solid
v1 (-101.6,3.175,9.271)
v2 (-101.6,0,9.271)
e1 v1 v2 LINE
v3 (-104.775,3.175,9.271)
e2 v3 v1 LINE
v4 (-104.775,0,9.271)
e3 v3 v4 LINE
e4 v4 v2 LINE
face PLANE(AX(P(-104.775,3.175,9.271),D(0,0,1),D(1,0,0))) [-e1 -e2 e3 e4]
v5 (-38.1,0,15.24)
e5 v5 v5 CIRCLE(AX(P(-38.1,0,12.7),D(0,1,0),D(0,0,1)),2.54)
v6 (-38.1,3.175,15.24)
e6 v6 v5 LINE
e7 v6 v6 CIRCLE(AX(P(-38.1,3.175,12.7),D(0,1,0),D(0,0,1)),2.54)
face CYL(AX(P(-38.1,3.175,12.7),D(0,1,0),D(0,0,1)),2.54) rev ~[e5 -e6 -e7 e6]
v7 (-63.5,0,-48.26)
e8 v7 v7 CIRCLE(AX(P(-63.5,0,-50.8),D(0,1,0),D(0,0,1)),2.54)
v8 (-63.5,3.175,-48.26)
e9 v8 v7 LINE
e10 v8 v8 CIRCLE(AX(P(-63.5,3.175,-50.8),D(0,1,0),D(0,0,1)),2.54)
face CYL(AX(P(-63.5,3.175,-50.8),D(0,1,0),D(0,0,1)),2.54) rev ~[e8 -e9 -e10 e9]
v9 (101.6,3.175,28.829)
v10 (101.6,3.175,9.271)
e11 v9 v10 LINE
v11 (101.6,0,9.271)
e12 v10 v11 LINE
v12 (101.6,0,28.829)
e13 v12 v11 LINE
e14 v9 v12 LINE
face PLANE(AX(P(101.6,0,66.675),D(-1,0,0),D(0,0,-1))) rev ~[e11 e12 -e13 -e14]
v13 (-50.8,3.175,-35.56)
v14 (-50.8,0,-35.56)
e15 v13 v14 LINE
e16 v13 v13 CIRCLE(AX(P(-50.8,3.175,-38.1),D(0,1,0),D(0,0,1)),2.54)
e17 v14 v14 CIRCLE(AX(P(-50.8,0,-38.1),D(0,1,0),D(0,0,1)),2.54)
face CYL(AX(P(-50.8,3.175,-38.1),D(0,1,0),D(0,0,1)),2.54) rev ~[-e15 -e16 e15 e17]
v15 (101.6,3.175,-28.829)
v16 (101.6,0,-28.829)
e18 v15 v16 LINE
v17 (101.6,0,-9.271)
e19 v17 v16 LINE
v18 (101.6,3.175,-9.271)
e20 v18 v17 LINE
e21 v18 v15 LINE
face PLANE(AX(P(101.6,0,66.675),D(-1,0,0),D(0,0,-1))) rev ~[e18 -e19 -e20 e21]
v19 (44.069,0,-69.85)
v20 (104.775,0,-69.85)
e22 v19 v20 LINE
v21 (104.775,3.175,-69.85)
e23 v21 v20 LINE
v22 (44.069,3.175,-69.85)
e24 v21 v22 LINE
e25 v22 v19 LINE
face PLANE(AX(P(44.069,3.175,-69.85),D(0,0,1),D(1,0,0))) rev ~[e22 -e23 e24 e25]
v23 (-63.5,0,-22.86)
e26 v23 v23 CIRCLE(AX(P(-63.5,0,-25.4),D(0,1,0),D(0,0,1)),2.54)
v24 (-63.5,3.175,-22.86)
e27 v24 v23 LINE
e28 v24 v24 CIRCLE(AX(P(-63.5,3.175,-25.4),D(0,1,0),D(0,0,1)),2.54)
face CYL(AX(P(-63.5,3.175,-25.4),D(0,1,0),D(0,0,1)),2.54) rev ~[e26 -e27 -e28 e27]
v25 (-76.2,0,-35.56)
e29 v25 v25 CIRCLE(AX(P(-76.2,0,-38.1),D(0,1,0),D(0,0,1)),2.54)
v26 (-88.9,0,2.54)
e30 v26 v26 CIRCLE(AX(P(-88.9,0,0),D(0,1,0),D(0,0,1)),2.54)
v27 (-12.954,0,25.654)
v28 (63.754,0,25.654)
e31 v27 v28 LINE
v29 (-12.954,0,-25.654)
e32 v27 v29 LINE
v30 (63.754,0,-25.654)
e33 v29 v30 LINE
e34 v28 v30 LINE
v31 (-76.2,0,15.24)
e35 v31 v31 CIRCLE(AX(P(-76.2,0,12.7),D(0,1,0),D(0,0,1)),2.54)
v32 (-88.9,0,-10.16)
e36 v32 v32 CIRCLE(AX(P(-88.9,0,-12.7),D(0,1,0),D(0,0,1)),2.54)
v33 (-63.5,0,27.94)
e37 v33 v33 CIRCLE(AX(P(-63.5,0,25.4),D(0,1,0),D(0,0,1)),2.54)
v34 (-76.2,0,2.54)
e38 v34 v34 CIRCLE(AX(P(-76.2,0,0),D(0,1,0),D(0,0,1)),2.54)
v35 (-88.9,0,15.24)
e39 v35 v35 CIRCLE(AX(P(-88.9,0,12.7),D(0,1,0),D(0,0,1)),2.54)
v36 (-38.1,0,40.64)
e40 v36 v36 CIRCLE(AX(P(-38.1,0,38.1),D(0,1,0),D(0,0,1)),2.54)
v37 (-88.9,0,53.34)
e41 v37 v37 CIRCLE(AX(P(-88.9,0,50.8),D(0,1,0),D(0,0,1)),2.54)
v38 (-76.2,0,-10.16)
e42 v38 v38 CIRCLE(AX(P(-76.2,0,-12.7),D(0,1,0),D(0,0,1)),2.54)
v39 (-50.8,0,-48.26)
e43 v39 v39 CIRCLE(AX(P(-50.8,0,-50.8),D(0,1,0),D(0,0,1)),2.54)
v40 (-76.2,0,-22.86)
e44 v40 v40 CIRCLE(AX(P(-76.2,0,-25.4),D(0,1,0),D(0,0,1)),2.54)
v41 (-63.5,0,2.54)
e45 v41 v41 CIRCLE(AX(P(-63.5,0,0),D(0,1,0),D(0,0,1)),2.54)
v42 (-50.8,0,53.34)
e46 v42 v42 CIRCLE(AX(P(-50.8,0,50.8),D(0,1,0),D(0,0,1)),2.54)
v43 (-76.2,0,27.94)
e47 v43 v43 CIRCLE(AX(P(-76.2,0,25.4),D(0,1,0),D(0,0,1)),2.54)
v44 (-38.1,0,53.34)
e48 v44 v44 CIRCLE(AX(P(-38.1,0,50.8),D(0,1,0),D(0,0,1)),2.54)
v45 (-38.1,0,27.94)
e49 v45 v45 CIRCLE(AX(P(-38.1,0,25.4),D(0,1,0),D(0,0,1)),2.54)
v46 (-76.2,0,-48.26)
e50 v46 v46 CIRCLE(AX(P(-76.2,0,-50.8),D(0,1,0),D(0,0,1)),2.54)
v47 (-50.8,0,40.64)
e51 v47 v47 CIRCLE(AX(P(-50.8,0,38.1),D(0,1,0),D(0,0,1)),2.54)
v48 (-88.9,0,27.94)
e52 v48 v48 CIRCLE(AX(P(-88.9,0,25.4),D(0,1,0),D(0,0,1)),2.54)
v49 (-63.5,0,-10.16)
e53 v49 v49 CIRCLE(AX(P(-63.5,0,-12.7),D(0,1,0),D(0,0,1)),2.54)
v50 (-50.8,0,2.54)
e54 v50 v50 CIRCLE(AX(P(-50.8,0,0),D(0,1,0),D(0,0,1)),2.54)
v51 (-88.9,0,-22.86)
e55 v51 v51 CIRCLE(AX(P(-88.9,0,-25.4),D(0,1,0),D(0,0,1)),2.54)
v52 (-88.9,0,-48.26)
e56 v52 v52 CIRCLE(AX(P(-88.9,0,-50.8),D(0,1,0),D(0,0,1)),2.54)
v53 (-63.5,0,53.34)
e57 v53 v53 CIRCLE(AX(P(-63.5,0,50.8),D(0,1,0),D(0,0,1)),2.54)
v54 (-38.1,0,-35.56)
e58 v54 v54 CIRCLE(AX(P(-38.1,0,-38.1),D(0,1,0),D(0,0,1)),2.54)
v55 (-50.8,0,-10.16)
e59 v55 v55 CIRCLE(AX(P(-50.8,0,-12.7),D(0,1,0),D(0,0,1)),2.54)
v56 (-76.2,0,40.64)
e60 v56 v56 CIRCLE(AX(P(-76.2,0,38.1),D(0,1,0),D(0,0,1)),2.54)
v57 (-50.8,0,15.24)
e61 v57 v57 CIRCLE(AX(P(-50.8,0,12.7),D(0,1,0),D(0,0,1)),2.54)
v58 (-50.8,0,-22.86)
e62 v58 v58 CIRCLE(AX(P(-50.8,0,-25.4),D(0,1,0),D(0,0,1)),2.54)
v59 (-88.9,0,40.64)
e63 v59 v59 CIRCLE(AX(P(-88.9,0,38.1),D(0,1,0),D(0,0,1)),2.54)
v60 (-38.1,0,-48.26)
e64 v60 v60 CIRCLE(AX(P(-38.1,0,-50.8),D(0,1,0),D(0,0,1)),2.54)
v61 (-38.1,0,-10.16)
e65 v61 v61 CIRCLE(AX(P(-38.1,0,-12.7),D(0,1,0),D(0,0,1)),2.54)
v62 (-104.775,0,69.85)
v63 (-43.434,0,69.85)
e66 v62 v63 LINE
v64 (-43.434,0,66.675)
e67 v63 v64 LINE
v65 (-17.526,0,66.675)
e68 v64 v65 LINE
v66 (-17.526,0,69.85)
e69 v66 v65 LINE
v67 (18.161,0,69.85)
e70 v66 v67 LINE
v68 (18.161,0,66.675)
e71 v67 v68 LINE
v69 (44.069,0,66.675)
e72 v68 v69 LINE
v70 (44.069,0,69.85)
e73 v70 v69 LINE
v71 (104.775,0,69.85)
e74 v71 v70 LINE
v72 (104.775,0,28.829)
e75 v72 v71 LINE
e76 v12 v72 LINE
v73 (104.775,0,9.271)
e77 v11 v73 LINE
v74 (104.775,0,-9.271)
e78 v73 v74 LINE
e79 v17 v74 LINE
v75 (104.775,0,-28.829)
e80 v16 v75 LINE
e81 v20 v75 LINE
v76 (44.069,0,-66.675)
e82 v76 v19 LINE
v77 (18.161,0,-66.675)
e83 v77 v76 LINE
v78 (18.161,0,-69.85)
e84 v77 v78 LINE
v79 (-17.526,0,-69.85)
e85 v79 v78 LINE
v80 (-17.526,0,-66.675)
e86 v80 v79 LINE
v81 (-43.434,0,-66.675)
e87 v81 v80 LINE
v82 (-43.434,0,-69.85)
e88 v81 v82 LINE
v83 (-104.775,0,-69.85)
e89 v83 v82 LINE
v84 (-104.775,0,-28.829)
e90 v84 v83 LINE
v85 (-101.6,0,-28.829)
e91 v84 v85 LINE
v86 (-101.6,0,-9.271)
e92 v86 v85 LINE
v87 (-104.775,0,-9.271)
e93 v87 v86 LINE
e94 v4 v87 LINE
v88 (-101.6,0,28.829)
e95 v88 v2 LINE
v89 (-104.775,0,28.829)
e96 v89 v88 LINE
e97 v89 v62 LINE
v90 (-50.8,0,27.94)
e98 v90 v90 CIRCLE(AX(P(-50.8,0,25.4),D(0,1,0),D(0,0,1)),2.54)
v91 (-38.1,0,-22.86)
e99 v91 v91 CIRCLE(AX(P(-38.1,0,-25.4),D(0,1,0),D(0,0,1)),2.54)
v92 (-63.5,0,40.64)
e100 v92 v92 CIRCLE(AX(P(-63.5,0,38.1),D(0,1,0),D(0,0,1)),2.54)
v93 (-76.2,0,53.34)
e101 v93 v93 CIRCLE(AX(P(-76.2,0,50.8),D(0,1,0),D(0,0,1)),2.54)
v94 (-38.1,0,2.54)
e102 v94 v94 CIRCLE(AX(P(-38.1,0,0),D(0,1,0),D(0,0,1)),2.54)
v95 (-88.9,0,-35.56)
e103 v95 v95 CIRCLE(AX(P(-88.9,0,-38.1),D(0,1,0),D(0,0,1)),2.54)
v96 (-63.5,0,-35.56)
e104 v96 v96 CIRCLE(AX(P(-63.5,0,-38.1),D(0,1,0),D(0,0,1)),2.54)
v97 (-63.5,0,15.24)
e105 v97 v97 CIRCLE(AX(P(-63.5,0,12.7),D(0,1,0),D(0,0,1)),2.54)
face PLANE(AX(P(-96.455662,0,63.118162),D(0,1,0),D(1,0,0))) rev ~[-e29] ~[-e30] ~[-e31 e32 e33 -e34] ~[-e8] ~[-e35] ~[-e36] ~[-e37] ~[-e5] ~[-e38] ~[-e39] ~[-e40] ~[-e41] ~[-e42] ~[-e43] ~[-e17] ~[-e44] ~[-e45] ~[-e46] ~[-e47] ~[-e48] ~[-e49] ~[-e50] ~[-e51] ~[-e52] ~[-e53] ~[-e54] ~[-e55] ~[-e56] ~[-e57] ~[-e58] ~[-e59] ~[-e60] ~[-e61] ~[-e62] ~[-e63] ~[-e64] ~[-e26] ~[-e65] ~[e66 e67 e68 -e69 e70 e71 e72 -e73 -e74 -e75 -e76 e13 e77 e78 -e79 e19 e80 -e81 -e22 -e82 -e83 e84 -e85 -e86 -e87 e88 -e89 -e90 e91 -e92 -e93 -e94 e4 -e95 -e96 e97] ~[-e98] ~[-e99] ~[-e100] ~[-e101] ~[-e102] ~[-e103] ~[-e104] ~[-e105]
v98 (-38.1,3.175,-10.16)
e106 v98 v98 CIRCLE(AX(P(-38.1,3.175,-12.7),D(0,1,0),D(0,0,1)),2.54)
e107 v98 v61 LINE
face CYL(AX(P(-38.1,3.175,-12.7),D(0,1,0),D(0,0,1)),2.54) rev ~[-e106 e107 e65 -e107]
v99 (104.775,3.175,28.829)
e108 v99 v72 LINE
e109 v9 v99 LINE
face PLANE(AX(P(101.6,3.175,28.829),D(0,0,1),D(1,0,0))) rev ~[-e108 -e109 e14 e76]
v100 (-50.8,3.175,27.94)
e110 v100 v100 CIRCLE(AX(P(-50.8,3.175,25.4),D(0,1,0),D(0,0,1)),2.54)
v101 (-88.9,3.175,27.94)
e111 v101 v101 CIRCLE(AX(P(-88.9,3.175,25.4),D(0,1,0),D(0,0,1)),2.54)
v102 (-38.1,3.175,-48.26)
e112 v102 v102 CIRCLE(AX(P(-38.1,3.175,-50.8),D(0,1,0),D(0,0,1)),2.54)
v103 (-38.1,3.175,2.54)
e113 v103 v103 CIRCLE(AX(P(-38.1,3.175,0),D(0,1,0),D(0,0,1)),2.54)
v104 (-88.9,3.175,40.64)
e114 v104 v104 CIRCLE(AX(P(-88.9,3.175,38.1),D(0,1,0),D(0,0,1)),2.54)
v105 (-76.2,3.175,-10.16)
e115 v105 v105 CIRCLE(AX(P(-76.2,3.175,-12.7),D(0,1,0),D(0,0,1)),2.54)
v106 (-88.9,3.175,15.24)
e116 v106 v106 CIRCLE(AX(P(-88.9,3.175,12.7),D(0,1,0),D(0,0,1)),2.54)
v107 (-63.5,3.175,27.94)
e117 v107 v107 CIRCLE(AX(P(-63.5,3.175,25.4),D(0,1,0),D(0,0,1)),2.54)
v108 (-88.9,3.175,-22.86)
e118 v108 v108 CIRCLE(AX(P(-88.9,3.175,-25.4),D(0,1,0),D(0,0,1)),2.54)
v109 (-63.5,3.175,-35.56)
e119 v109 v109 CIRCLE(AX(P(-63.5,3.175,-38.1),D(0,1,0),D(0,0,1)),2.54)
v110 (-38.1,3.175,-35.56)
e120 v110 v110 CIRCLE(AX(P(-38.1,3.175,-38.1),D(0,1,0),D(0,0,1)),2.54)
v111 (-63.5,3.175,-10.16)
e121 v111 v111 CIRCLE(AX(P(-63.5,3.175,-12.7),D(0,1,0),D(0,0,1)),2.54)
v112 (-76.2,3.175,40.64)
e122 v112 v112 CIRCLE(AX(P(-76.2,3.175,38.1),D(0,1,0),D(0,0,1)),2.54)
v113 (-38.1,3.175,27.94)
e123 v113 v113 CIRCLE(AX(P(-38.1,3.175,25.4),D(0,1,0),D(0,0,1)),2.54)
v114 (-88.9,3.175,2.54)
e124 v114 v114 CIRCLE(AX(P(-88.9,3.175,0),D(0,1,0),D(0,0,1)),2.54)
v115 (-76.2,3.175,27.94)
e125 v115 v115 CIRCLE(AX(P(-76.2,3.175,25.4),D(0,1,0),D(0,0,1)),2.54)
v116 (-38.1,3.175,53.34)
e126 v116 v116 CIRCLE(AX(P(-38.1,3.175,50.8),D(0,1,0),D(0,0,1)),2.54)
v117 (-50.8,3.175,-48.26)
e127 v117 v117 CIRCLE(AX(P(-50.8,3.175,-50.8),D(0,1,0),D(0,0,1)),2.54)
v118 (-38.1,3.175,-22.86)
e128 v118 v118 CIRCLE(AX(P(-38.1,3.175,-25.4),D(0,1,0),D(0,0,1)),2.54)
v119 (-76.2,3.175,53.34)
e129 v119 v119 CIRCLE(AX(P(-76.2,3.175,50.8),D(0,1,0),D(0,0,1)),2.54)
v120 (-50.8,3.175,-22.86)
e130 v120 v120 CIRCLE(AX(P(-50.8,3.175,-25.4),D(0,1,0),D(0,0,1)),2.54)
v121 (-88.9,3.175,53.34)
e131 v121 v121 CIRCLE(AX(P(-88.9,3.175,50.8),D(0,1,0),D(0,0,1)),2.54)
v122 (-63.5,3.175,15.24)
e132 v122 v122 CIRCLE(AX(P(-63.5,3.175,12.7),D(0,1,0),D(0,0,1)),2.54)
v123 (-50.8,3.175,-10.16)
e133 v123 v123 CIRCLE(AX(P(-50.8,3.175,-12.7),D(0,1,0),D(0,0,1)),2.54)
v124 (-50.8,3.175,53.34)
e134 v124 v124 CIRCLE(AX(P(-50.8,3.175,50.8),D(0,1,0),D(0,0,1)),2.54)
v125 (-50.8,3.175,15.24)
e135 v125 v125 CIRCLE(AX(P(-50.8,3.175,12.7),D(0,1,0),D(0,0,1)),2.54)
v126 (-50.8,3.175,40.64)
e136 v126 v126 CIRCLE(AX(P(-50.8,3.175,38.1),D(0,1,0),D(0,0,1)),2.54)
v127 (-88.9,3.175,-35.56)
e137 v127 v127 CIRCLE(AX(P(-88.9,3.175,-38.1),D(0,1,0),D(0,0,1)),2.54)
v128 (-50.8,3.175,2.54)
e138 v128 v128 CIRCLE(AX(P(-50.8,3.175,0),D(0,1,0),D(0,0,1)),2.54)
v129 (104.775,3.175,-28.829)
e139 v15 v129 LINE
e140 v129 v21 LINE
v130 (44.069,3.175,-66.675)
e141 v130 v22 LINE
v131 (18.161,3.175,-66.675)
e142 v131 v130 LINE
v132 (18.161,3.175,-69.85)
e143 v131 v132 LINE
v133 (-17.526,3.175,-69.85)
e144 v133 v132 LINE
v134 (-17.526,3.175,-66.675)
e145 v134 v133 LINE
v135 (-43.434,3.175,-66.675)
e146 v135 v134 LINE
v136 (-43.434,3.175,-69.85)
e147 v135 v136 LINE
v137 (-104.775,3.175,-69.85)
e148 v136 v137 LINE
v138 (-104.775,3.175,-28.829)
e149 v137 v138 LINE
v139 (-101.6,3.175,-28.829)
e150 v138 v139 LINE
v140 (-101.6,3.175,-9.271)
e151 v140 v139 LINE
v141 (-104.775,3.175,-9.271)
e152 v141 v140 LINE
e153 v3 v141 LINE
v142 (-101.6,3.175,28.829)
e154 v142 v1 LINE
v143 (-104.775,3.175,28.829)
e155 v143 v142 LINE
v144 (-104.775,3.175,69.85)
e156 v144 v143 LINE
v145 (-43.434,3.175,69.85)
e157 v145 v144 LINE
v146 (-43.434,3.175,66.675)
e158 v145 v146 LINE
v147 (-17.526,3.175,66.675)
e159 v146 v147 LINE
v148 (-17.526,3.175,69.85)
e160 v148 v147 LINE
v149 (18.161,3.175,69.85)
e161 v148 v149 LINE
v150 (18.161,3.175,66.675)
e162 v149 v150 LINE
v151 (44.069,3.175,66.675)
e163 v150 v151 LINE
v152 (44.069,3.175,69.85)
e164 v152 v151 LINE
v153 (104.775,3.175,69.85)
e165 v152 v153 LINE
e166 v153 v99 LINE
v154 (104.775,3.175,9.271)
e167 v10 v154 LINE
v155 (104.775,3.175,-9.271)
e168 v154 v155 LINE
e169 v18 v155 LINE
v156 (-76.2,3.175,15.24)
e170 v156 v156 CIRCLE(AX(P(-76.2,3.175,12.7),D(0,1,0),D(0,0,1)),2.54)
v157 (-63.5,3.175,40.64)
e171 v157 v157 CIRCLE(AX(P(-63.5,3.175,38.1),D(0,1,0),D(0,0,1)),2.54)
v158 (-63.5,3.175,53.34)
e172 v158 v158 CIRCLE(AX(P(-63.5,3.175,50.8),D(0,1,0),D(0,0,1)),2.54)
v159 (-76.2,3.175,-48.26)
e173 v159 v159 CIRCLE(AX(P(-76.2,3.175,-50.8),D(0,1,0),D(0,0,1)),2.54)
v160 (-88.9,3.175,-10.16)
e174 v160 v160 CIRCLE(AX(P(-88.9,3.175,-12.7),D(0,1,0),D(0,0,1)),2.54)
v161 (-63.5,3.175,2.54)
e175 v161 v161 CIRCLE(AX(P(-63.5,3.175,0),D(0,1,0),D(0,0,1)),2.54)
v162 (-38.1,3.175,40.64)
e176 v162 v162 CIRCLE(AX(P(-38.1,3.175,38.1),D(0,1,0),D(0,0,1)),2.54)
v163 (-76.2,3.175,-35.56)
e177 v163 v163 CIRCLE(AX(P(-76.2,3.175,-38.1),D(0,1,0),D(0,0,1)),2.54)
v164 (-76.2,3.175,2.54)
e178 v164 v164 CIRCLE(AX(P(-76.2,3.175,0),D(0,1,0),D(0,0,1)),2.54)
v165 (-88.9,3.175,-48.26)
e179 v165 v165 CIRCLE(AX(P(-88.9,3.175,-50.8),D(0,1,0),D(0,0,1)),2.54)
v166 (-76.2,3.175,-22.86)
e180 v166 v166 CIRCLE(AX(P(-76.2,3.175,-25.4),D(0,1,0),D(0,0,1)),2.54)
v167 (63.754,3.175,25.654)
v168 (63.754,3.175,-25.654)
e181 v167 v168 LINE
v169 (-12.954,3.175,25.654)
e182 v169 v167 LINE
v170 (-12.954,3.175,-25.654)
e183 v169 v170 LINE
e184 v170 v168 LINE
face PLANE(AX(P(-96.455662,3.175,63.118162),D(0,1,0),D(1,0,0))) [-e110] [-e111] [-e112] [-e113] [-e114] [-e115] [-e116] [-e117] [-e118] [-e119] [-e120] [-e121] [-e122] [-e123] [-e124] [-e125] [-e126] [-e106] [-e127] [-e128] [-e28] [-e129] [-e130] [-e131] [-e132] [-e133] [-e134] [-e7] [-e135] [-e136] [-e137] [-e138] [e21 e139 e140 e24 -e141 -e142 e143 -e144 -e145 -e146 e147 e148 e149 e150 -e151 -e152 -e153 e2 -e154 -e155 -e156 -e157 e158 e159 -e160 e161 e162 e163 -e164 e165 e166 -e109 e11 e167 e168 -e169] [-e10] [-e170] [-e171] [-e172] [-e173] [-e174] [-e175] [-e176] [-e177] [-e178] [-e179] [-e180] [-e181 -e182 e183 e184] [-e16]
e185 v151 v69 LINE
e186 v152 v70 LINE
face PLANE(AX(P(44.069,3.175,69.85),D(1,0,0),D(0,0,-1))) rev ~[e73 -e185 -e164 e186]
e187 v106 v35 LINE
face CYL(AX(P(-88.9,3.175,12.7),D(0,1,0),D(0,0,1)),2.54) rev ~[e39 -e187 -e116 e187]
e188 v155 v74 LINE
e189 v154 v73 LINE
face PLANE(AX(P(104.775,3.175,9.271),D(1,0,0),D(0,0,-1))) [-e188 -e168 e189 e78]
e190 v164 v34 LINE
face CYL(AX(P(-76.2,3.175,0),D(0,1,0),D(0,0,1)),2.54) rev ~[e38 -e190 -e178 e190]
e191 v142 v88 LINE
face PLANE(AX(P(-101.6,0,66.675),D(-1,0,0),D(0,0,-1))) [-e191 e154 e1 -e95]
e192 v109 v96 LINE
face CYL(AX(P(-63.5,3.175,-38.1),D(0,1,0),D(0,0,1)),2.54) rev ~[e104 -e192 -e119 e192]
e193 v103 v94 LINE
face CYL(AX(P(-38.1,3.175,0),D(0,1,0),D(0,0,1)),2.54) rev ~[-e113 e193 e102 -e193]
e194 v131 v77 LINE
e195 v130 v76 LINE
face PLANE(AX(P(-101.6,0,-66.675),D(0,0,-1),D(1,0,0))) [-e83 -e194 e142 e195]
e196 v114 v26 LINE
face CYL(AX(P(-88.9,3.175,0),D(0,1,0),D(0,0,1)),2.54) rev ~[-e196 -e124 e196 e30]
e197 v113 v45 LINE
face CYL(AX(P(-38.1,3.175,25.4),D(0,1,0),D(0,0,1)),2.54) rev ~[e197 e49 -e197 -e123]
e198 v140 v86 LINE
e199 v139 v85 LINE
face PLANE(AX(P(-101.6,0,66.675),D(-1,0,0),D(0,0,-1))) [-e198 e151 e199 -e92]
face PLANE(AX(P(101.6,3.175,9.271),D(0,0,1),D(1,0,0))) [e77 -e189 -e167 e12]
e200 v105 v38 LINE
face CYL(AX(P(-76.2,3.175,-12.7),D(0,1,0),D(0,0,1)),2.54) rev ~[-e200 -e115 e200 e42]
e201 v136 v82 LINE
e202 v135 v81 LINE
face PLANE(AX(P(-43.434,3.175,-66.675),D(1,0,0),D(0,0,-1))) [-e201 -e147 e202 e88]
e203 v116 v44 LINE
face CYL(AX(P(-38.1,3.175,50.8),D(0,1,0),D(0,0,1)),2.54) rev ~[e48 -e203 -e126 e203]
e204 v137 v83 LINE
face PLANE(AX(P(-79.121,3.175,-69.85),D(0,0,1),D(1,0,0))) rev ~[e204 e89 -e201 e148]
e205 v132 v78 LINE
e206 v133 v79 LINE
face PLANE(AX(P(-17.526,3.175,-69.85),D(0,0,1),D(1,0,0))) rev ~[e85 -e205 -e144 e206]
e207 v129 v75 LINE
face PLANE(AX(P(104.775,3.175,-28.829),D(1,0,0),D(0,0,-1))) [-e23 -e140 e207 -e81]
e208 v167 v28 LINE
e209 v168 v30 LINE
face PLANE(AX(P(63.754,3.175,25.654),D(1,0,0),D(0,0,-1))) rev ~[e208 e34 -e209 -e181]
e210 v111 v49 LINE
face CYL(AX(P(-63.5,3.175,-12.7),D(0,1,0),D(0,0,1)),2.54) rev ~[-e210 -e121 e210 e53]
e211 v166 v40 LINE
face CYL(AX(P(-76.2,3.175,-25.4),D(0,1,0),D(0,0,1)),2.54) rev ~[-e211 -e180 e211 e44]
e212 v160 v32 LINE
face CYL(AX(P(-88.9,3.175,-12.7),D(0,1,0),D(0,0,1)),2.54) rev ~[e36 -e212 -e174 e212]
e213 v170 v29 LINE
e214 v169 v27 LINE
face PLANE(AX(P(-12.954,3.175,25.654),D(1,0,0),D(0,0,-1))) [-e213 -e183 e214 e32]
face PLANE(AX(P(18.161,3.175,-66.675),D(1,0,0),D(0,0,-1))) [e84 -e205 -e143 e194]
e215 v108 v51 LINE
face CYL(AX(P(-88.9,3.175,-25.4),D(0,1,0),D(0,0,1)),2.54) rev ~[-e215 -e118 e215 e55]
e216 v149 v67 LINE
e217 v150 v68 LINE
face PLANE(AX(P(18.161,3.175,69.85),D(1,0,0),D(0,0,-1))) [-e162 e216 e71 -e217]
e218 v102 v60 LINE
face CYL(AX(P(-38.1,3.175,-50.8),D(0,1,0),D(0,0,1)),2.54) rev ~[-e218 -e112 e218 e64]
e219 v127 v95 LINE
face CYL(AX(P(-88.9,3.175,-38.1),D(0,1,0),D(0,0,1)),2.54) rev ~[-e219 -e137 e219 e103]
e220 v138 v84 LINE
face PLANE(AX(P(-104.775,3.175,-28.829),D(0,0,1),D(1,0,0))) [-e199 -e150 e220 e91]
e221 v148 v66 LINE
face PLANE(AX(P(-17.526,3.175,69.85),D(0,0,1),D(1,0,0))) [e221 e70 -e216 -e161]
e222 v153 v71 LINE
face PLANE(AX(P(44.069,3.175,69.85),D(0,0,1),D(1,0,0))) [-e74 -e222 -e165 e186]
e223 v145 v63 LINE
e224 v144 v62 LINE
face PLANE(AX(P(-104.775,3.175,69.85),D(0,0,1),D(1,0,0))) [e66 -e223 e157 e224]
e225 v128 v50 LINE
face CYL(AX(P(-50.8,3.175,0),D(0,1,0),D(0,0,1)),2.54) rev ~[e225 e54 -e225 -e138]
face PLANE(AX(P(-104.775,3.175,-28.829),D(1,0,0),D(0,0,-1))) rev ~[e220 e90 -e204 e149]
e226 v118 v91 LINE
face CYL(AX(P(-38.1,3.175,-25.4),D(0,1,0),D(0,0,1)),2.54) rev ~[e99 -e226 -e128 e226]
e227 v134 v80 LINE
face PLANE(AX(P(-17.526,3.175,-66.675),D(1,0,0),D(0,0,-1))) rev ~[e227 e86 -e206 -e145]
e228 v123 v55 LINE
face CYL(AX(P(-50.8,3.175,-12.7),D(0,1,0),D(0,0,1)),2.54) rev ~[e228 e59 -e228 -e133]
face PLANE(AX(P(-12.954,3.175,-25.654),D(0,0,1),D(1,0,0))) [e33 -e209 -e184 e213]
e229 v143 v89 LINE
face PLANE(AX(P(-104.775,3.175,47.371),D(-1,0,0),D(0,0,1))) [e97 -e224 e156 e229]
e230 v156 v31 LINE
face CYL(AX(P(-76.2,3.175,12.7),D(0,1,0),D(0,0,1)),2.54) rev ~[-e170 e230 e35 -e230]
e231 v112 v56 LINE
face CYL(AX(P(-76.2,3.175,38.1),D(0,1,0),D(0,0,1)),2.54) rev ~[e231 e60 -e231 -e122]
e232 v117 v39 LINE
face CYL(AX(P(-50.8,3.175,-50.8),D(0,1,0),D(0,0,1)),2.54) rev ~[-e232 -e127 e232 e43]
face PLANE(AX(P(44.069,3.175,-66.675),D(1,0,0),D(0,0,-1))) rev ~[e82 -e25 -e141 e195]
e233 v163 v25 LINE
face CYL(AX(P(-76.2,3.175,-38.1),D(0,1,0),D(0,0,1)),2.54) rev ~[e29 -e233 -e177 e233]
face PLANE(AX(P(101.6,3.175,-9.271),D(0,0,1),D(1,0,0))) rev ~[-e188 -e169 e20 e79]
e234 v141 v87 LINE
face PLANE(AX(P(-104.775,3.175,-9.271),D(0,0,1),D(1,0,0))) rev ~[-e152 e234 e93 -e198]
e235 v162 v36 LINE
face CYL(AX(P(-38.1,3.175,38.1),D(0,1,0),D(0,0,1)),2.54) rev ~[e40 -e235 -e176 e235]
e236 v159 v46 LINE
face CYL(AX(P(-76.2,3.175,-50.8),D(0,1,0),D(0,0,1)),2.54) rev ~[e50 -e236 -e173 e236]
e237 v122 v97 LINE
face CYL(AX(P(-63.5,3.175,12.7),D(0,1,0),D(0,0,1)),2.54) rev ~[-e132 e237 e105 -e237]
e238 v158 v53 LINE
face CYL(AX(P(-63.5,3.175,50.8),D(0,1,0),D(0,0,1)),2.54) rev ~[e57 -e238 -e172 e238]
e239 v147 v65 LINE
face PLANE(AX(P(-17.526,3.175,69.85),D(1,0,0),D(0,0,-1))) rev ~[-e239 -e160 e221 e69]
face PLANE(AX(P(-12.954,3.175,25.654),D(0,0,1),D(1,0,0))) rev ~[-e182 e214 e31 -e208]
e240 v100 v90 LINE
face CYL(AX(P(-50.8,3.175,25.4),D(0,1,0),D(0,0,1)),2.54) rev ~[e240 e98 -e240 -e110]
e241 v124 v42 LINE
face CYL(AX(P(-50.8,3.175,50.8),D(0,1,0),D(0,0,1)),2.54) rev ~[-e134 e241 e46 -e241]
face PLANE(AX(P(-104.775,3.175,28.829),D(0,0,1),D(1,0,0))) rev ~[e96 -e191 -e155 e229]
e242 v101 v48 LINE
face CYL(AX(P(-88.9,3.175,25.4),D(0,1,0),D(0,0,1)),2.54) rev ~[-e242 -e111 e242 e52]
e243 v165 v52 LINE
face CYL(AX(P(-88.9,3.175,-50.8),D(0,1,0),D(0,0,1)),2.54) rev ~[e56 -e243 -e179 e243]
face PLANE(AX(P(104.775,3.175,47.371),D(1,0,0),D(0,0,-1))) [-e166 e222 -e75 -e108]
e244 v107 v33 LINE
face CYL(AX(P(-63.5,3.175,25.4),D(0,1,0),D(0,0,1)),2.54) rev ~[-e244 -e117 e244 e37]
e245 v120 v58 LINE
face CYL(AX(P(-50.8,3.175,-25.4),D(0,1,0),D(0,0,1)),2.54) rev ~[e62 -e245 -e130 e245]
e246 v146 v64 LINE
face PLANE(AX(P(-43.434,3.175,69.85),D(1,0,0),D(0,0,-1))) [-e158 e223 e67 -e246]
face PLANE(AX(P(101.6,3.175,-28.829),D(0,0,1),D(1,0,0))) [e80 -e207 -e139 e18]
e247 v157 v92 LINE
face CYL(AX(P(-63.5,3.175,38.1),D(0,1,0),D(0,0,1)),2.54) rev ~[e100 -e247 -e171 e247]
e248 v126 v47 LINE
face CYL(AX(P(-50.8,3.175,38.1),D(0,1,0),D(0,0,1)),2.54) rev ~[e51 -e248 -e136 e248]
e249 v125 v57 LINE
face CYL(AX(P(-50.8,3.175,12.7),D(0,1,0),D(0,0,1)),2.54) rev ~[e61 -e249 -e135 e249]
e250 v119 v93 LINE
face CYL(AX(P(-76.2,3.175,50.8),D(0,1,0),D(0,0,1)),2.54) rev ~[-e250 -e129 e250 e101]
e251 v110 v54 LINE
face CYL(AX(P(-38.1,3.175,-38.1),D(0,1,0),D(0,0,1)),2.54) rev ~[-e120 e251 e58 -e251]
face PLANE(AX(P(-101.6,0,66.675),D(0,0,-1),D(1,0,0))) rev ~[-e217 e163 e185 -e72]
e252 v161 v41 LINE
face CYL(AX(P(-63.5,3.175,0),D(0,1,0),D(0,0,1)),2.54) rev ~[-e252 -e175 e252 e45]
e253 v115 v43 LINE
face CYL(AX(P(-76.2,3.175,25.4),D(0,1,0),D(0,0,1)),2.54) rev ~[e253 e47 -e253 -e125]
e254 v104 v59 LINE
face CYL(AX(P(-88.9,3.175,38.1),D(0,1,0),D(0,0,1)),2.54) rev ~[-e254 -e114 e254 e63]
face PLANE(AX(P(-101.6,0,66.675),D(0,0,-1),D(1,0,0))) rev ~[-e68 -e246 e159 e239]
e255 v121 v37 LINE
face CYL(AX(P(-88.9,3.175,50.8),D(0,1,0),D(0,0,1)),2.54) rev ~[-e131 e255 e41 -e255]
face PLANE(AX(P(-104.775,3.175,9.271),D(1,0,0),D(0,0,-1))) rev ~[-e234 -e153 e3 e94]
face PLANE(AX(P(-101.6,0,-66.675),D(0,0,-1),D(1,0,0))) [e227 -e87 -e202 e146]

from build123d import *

# Parameters (mm, degrees)
SKETCH1_W           = 203.2
SKETCH1_H           = 133.35
BOSS_EXTRUDE1_DEPTH = 3.175
SKETCH2_R           = 2.54
CUT_EXTRUDE1_DEPTH  = 122.565604716
SKETCH3_W           = 35.687
SKETCH3_H           = 3.175
BOSS_EXTRUDE2_DEPTH = 3.175
SKETCH4_W           = 3.175
SKETCH4_H           = 18.542
BOSS_EXTRUDE3_DEPTH = 3.175
BOSS_EXTRUDE4_DEPTH = 3.175
SKETCH6_W           = 76.708
SKETCH6_H           = 51.308
CUT_EXTRUDE2_DEPTH  = 126.963898598


with BuildPart() as part:
    # Sketch1 → Boss-Extrude1 (new body)
    with BuildSketch(Plane(origin=(0, 0, 0), x_dir=(1, 0, 0), z_dir=(0, 1, 0))):
        Rectangle(SKETCH1_W, SKETCH1_H)
    extrude(amount=BOSS_EXTRUDE1_DEPTH)

    # Sketch2 → Cut-Extrude1 (cut, through all)
    with BuildSketch(Plane(origin=(0, 3.175, 0), x_dir=(1, 0, 0), z_dir=(0, 1, 0))):
        with Locations(Location((-88.9, 50.8, 0), (0, 0, 270))):
            Circle(SKETCH2_R)
        with Locations(Location((-76.2, 50.8, 0), (0, 0, 270))):
            Circle(SKETCH2_R)
        with Locations(Location((-63.5, 50.8, 0), (0, 0, 270))):
            Circle(SKETCH2_R)
        with Locations(Location((-50.8, 50.8, 0), (0, 0, 270))):
            Circle(SKETCH2_R)
        with Locations(Location((-76.2, 38.1, 0), (0, 0, 270))):
            Circle(SKETCH2_R)
        with Locations(Location((-63.5, 38.1, 0), (0, 0, 270))):
            Circle(SKETCH2_R)
        with Locations(Location((-50.8, 38.1, 0), (0, 0, 270))):
            Circle(SKETCH2_R)
        with Locations(Location((-76.2, 25.4, 0), (0, 0, 270))):
            Circle(SKETCH2_R)
        with Locations(Location((-63.5, 25.4, 0), (0, 0, 270))):
            Circle(SKETCH2_R)
        with Locations(Location((-50.8, 25.4, 0), (0, 0, 270))):
            Circle(SKETCH2_R)
        with Locations(Location((-76.2, 12.7, 0), (0, 0, 270))):
            Circle(SKETCH2_R)
        with Locations(Location((-63.5, 12.7, 0), (0, 0, 270))):
            Circle(SKETCH2_R)
        with Locations(Location((-50.8, 12.7, 0), (0, 0, 270))):
            Circle(SKETCH2_R)
        with Locations(Location((-76.2, 0, 0), (0, 0, 270))):
            Circle(SKETCH2_R)
        with Locations(Location((-63.5, 0, 0), (0, 0, 270))):
            Circle(SKETCH2_R)
        with Locations(Location((-50.8, 0, 0), (0, 0, 270))):
            Circle(SKETCH2_R)
        with Locations(Location((-76.2, -12.7, 0), (0, 0, 270))):
            Circle(SKETCH2_R)
        with Locations(Location((-63.5, -12.7, 0), (0, 0, 270))):
            Circle(SKETCH2_R)
        with Locations(Location((-50.8, -12.7, 0), (0, 0, 270))):
            Circle(SKETCH2_R)
        with Locations(Location((-76.2, -25.4, 0), (0, 0, 270))):
            Circle(SKETCH2_R)
        with Locations(Location((-63.5, -25.4, 0), (0, 0, 270))):
            Circle(SKETCH2_R)
        with Locations(Location((-50.8, -25.4, 0), (0, 0, 270))):
            Circle(SKETCH2_R)
        with Locations(Location((-76.2, -38.1, 0), (0, 0, 270))):
            Circle(SKETCH2_R)
        with Locations(Location((-63.5, -38.1, 0), (0, 0, 270))):
            Circle(SKETCH2_R)
        with Locations(Location((-50.8, -38.1, 0), (0, 0, 270))):
            Circle(SKETCH2_R)
        with Locations(Location((-76.2, -50.8, 0), (0, 0, 270))):
            Circle(SKETCH2_R)
        with Locations(Location((-63.5, -50.8, 0), (0, 0, 270))):
            Circle(SKETCH2_R)
        with Locations(Location((-50.8, -50.8, 0), (0, 0, 270))):
            Circle(SKETCH2_R)
        with Locations(Location((-88.9, 38.1, 0), (0, 0, 270))):
            Circle(SKETCH2_R)
        with Locations(Location((-88.9, 25.4, 0), (0, 0, 270))):
            Circle(SKETCH2_R)
        with Locations(Location((-88.9, 12.7, 0), (0, 0, 270))):
            Circle(SKETCH2_R)
        with Locations(Location((-88.9, 0, 0), (0, 0, 270))):
            Circle(SKETCH2_R)
        with Locations(Location((-88.9, -12.7, 0), (0, 0, 270))):
            Circle(SKETCH2_R)
        with Locations(Location((-88.9, -25.4, 0), (0, 0, 270))):
            Circle(SKETCH2_R)
        with Locations(Location((-88.9, -38.1, 0), (0, 0, 270))):
            Circle(SKETCH2_R)
        with Locations(Location((-88.9, -50.8, 0), (0, 0, 270))):
            Circle(SKETCH2_R)
        with Locations(Location((-38.1, 50.8, 0), (0, 0, 270))):
            Circle(SKETCH2_R)
        with Locations(Location((-38.1, 38.1, 0), (0, 0, 270))):
            Circle(SKETCH2_R)
        with Locations(Location((-38.1, 25.4, 0), (0, 0, 270))):
            Circle(SKETCH2_R)
        with Locations(Location((-38.1, 12.7, 0), (0, 0, 270))):
            Circle(SKETCH2_R)
        with Locations(Location((-38.1, 0, 0), (0, 0, 270))):
            Circle(SKETCH2_R)
        with Locations(Location((-38.1, -12.7, 0), (0, 0, 270))):
            Circle(SKETCH2_R)
        with Locations(Location((-38.1, -25.4, 0), (0, 0, 270))):
            Circle(SKETCH2_R)
        with Locations(Location((-38.1, -38.1, 0), (0, 0, 270))):
            Circle(SKETCH2_R)
        with Locations(Location((-38.1, -50.8, 0), (0, 0, 270))):
            Circle(SKETCH2_R)
    extrude(amount=-CUT_EXTRUDE1_DEPTH, mode=Mode.SUBTRACT)

    # Sketch3 → Boss-Extrude2 (add)
    with BuildSketch(Plane(origin=(0, 3.175, 0), x_dir=(1, 0, 0), z_dir=(0, 1, 0))):
        with Locations((-61.2775, 68.2625)):
            Rectangle(SKETCH3_W, SKETCH3_H)
        with Locations((0.3175, 68.2625)):
            Rectangle(SKETCH3_W, SKETCH3_H)
        with Locations((61.9125, 68.2625)):
            Rectangle(SKETCH3_W, SKETCH3_H)
        with Locations((61.9125, -68.2625)):
            Rectangle(SKETCH3_W, SKETCH3_H)
        with Locations((0.3175, -68.2625)):
            Rectangle(SKETCH3_W, SKETCH3_H)
        with Locations((-61.2775, -68.2625)):
            Rectangle(SKETCH3_W, SKETCH3_H)
    extrude(amount=-BOSS_EXTRUDE2_DEPTH)

    # Sketch4 → Boss-Extrude3 (add)
    with BuildSketch(Plane(origin=(0, 3.175, 0), x_dir=(1, 0, 0), z_dir=(0, 1, 0))):
        with Locations((-103.1875, 38.1)):
            Rectangle(SKETCH4_W, SKETCH4_H)
        with Locations((-103.1875, 0)):
            Rectangle(SKETCH4_W, SKETCH4_H)
        with Locations((-103.1875, -38.1)):
            Rectangle(SKETCH4_W, SKETCH4_H)
        with Locations((103.1875, -38.1)):
            Rectangle(SKETCH4_W, SKETCH4_H)
        with Locations((103.1875, 0)):
            Rectangle(SKETCH4_W, SKETCH4_H)
        with Locations((103.1875, 38.1)):
            Rectangle(SKETCH4_W, SKETCH4_H)
    extrude(amount=-BOSS_EXTRUDE3_DEPTH)

    # Sketch5 → Boss-Extrude4 (add)
    with BuildSketch(Plane(origin=(0, 3.175, 0), x_dir=(1, 0, 0), z_dir=(0, 1, 0))):
        Polygon((-104.775, -47.371), (-104.775, -69.85), (-79.121, -69.85), (-79.121, -66.675), (-101.6, -66.675), (-101.6, -47.371), align=None)
        Polygon((-101.6, 47.371), (-104.775, 47.371), (-104.775, 69.85), (-79.121, 69.85), (-79.121, 66.675), (-101.6, 66.675), align=None)
        Polygon((104.775, 47.371), (104.775, 69.85), (79.121, 69.85), (79.121, 66.675), (101.6, 66.675), (101.6, 47.371), align=None)
        Polygon((101.6, -47.371), (104.775, -47.371), (104.775, -69.85), (79.121, -69.85), (79.121, -66.675), (101.6, -66.675), align=None)
    extrude(amount=-BOSS_EXTRUDE4_DEPTH)

    # Sketch6 → Cut-Extrude2 (cut, through all)
    with BuildSketch(Plane(origin=(0, 3.175, 0), x_dir=(1, 0, 0), z_dir=(0, 1, 0))):
        with Locations((25.4, 0)):
            Rectangle(SKETCH6_W, SKETCH6_H)
    extrude(amount=-CUT_EXTRUDE2_DEPTH, mode=Mode.SUBTRACT)


solid = part.part
